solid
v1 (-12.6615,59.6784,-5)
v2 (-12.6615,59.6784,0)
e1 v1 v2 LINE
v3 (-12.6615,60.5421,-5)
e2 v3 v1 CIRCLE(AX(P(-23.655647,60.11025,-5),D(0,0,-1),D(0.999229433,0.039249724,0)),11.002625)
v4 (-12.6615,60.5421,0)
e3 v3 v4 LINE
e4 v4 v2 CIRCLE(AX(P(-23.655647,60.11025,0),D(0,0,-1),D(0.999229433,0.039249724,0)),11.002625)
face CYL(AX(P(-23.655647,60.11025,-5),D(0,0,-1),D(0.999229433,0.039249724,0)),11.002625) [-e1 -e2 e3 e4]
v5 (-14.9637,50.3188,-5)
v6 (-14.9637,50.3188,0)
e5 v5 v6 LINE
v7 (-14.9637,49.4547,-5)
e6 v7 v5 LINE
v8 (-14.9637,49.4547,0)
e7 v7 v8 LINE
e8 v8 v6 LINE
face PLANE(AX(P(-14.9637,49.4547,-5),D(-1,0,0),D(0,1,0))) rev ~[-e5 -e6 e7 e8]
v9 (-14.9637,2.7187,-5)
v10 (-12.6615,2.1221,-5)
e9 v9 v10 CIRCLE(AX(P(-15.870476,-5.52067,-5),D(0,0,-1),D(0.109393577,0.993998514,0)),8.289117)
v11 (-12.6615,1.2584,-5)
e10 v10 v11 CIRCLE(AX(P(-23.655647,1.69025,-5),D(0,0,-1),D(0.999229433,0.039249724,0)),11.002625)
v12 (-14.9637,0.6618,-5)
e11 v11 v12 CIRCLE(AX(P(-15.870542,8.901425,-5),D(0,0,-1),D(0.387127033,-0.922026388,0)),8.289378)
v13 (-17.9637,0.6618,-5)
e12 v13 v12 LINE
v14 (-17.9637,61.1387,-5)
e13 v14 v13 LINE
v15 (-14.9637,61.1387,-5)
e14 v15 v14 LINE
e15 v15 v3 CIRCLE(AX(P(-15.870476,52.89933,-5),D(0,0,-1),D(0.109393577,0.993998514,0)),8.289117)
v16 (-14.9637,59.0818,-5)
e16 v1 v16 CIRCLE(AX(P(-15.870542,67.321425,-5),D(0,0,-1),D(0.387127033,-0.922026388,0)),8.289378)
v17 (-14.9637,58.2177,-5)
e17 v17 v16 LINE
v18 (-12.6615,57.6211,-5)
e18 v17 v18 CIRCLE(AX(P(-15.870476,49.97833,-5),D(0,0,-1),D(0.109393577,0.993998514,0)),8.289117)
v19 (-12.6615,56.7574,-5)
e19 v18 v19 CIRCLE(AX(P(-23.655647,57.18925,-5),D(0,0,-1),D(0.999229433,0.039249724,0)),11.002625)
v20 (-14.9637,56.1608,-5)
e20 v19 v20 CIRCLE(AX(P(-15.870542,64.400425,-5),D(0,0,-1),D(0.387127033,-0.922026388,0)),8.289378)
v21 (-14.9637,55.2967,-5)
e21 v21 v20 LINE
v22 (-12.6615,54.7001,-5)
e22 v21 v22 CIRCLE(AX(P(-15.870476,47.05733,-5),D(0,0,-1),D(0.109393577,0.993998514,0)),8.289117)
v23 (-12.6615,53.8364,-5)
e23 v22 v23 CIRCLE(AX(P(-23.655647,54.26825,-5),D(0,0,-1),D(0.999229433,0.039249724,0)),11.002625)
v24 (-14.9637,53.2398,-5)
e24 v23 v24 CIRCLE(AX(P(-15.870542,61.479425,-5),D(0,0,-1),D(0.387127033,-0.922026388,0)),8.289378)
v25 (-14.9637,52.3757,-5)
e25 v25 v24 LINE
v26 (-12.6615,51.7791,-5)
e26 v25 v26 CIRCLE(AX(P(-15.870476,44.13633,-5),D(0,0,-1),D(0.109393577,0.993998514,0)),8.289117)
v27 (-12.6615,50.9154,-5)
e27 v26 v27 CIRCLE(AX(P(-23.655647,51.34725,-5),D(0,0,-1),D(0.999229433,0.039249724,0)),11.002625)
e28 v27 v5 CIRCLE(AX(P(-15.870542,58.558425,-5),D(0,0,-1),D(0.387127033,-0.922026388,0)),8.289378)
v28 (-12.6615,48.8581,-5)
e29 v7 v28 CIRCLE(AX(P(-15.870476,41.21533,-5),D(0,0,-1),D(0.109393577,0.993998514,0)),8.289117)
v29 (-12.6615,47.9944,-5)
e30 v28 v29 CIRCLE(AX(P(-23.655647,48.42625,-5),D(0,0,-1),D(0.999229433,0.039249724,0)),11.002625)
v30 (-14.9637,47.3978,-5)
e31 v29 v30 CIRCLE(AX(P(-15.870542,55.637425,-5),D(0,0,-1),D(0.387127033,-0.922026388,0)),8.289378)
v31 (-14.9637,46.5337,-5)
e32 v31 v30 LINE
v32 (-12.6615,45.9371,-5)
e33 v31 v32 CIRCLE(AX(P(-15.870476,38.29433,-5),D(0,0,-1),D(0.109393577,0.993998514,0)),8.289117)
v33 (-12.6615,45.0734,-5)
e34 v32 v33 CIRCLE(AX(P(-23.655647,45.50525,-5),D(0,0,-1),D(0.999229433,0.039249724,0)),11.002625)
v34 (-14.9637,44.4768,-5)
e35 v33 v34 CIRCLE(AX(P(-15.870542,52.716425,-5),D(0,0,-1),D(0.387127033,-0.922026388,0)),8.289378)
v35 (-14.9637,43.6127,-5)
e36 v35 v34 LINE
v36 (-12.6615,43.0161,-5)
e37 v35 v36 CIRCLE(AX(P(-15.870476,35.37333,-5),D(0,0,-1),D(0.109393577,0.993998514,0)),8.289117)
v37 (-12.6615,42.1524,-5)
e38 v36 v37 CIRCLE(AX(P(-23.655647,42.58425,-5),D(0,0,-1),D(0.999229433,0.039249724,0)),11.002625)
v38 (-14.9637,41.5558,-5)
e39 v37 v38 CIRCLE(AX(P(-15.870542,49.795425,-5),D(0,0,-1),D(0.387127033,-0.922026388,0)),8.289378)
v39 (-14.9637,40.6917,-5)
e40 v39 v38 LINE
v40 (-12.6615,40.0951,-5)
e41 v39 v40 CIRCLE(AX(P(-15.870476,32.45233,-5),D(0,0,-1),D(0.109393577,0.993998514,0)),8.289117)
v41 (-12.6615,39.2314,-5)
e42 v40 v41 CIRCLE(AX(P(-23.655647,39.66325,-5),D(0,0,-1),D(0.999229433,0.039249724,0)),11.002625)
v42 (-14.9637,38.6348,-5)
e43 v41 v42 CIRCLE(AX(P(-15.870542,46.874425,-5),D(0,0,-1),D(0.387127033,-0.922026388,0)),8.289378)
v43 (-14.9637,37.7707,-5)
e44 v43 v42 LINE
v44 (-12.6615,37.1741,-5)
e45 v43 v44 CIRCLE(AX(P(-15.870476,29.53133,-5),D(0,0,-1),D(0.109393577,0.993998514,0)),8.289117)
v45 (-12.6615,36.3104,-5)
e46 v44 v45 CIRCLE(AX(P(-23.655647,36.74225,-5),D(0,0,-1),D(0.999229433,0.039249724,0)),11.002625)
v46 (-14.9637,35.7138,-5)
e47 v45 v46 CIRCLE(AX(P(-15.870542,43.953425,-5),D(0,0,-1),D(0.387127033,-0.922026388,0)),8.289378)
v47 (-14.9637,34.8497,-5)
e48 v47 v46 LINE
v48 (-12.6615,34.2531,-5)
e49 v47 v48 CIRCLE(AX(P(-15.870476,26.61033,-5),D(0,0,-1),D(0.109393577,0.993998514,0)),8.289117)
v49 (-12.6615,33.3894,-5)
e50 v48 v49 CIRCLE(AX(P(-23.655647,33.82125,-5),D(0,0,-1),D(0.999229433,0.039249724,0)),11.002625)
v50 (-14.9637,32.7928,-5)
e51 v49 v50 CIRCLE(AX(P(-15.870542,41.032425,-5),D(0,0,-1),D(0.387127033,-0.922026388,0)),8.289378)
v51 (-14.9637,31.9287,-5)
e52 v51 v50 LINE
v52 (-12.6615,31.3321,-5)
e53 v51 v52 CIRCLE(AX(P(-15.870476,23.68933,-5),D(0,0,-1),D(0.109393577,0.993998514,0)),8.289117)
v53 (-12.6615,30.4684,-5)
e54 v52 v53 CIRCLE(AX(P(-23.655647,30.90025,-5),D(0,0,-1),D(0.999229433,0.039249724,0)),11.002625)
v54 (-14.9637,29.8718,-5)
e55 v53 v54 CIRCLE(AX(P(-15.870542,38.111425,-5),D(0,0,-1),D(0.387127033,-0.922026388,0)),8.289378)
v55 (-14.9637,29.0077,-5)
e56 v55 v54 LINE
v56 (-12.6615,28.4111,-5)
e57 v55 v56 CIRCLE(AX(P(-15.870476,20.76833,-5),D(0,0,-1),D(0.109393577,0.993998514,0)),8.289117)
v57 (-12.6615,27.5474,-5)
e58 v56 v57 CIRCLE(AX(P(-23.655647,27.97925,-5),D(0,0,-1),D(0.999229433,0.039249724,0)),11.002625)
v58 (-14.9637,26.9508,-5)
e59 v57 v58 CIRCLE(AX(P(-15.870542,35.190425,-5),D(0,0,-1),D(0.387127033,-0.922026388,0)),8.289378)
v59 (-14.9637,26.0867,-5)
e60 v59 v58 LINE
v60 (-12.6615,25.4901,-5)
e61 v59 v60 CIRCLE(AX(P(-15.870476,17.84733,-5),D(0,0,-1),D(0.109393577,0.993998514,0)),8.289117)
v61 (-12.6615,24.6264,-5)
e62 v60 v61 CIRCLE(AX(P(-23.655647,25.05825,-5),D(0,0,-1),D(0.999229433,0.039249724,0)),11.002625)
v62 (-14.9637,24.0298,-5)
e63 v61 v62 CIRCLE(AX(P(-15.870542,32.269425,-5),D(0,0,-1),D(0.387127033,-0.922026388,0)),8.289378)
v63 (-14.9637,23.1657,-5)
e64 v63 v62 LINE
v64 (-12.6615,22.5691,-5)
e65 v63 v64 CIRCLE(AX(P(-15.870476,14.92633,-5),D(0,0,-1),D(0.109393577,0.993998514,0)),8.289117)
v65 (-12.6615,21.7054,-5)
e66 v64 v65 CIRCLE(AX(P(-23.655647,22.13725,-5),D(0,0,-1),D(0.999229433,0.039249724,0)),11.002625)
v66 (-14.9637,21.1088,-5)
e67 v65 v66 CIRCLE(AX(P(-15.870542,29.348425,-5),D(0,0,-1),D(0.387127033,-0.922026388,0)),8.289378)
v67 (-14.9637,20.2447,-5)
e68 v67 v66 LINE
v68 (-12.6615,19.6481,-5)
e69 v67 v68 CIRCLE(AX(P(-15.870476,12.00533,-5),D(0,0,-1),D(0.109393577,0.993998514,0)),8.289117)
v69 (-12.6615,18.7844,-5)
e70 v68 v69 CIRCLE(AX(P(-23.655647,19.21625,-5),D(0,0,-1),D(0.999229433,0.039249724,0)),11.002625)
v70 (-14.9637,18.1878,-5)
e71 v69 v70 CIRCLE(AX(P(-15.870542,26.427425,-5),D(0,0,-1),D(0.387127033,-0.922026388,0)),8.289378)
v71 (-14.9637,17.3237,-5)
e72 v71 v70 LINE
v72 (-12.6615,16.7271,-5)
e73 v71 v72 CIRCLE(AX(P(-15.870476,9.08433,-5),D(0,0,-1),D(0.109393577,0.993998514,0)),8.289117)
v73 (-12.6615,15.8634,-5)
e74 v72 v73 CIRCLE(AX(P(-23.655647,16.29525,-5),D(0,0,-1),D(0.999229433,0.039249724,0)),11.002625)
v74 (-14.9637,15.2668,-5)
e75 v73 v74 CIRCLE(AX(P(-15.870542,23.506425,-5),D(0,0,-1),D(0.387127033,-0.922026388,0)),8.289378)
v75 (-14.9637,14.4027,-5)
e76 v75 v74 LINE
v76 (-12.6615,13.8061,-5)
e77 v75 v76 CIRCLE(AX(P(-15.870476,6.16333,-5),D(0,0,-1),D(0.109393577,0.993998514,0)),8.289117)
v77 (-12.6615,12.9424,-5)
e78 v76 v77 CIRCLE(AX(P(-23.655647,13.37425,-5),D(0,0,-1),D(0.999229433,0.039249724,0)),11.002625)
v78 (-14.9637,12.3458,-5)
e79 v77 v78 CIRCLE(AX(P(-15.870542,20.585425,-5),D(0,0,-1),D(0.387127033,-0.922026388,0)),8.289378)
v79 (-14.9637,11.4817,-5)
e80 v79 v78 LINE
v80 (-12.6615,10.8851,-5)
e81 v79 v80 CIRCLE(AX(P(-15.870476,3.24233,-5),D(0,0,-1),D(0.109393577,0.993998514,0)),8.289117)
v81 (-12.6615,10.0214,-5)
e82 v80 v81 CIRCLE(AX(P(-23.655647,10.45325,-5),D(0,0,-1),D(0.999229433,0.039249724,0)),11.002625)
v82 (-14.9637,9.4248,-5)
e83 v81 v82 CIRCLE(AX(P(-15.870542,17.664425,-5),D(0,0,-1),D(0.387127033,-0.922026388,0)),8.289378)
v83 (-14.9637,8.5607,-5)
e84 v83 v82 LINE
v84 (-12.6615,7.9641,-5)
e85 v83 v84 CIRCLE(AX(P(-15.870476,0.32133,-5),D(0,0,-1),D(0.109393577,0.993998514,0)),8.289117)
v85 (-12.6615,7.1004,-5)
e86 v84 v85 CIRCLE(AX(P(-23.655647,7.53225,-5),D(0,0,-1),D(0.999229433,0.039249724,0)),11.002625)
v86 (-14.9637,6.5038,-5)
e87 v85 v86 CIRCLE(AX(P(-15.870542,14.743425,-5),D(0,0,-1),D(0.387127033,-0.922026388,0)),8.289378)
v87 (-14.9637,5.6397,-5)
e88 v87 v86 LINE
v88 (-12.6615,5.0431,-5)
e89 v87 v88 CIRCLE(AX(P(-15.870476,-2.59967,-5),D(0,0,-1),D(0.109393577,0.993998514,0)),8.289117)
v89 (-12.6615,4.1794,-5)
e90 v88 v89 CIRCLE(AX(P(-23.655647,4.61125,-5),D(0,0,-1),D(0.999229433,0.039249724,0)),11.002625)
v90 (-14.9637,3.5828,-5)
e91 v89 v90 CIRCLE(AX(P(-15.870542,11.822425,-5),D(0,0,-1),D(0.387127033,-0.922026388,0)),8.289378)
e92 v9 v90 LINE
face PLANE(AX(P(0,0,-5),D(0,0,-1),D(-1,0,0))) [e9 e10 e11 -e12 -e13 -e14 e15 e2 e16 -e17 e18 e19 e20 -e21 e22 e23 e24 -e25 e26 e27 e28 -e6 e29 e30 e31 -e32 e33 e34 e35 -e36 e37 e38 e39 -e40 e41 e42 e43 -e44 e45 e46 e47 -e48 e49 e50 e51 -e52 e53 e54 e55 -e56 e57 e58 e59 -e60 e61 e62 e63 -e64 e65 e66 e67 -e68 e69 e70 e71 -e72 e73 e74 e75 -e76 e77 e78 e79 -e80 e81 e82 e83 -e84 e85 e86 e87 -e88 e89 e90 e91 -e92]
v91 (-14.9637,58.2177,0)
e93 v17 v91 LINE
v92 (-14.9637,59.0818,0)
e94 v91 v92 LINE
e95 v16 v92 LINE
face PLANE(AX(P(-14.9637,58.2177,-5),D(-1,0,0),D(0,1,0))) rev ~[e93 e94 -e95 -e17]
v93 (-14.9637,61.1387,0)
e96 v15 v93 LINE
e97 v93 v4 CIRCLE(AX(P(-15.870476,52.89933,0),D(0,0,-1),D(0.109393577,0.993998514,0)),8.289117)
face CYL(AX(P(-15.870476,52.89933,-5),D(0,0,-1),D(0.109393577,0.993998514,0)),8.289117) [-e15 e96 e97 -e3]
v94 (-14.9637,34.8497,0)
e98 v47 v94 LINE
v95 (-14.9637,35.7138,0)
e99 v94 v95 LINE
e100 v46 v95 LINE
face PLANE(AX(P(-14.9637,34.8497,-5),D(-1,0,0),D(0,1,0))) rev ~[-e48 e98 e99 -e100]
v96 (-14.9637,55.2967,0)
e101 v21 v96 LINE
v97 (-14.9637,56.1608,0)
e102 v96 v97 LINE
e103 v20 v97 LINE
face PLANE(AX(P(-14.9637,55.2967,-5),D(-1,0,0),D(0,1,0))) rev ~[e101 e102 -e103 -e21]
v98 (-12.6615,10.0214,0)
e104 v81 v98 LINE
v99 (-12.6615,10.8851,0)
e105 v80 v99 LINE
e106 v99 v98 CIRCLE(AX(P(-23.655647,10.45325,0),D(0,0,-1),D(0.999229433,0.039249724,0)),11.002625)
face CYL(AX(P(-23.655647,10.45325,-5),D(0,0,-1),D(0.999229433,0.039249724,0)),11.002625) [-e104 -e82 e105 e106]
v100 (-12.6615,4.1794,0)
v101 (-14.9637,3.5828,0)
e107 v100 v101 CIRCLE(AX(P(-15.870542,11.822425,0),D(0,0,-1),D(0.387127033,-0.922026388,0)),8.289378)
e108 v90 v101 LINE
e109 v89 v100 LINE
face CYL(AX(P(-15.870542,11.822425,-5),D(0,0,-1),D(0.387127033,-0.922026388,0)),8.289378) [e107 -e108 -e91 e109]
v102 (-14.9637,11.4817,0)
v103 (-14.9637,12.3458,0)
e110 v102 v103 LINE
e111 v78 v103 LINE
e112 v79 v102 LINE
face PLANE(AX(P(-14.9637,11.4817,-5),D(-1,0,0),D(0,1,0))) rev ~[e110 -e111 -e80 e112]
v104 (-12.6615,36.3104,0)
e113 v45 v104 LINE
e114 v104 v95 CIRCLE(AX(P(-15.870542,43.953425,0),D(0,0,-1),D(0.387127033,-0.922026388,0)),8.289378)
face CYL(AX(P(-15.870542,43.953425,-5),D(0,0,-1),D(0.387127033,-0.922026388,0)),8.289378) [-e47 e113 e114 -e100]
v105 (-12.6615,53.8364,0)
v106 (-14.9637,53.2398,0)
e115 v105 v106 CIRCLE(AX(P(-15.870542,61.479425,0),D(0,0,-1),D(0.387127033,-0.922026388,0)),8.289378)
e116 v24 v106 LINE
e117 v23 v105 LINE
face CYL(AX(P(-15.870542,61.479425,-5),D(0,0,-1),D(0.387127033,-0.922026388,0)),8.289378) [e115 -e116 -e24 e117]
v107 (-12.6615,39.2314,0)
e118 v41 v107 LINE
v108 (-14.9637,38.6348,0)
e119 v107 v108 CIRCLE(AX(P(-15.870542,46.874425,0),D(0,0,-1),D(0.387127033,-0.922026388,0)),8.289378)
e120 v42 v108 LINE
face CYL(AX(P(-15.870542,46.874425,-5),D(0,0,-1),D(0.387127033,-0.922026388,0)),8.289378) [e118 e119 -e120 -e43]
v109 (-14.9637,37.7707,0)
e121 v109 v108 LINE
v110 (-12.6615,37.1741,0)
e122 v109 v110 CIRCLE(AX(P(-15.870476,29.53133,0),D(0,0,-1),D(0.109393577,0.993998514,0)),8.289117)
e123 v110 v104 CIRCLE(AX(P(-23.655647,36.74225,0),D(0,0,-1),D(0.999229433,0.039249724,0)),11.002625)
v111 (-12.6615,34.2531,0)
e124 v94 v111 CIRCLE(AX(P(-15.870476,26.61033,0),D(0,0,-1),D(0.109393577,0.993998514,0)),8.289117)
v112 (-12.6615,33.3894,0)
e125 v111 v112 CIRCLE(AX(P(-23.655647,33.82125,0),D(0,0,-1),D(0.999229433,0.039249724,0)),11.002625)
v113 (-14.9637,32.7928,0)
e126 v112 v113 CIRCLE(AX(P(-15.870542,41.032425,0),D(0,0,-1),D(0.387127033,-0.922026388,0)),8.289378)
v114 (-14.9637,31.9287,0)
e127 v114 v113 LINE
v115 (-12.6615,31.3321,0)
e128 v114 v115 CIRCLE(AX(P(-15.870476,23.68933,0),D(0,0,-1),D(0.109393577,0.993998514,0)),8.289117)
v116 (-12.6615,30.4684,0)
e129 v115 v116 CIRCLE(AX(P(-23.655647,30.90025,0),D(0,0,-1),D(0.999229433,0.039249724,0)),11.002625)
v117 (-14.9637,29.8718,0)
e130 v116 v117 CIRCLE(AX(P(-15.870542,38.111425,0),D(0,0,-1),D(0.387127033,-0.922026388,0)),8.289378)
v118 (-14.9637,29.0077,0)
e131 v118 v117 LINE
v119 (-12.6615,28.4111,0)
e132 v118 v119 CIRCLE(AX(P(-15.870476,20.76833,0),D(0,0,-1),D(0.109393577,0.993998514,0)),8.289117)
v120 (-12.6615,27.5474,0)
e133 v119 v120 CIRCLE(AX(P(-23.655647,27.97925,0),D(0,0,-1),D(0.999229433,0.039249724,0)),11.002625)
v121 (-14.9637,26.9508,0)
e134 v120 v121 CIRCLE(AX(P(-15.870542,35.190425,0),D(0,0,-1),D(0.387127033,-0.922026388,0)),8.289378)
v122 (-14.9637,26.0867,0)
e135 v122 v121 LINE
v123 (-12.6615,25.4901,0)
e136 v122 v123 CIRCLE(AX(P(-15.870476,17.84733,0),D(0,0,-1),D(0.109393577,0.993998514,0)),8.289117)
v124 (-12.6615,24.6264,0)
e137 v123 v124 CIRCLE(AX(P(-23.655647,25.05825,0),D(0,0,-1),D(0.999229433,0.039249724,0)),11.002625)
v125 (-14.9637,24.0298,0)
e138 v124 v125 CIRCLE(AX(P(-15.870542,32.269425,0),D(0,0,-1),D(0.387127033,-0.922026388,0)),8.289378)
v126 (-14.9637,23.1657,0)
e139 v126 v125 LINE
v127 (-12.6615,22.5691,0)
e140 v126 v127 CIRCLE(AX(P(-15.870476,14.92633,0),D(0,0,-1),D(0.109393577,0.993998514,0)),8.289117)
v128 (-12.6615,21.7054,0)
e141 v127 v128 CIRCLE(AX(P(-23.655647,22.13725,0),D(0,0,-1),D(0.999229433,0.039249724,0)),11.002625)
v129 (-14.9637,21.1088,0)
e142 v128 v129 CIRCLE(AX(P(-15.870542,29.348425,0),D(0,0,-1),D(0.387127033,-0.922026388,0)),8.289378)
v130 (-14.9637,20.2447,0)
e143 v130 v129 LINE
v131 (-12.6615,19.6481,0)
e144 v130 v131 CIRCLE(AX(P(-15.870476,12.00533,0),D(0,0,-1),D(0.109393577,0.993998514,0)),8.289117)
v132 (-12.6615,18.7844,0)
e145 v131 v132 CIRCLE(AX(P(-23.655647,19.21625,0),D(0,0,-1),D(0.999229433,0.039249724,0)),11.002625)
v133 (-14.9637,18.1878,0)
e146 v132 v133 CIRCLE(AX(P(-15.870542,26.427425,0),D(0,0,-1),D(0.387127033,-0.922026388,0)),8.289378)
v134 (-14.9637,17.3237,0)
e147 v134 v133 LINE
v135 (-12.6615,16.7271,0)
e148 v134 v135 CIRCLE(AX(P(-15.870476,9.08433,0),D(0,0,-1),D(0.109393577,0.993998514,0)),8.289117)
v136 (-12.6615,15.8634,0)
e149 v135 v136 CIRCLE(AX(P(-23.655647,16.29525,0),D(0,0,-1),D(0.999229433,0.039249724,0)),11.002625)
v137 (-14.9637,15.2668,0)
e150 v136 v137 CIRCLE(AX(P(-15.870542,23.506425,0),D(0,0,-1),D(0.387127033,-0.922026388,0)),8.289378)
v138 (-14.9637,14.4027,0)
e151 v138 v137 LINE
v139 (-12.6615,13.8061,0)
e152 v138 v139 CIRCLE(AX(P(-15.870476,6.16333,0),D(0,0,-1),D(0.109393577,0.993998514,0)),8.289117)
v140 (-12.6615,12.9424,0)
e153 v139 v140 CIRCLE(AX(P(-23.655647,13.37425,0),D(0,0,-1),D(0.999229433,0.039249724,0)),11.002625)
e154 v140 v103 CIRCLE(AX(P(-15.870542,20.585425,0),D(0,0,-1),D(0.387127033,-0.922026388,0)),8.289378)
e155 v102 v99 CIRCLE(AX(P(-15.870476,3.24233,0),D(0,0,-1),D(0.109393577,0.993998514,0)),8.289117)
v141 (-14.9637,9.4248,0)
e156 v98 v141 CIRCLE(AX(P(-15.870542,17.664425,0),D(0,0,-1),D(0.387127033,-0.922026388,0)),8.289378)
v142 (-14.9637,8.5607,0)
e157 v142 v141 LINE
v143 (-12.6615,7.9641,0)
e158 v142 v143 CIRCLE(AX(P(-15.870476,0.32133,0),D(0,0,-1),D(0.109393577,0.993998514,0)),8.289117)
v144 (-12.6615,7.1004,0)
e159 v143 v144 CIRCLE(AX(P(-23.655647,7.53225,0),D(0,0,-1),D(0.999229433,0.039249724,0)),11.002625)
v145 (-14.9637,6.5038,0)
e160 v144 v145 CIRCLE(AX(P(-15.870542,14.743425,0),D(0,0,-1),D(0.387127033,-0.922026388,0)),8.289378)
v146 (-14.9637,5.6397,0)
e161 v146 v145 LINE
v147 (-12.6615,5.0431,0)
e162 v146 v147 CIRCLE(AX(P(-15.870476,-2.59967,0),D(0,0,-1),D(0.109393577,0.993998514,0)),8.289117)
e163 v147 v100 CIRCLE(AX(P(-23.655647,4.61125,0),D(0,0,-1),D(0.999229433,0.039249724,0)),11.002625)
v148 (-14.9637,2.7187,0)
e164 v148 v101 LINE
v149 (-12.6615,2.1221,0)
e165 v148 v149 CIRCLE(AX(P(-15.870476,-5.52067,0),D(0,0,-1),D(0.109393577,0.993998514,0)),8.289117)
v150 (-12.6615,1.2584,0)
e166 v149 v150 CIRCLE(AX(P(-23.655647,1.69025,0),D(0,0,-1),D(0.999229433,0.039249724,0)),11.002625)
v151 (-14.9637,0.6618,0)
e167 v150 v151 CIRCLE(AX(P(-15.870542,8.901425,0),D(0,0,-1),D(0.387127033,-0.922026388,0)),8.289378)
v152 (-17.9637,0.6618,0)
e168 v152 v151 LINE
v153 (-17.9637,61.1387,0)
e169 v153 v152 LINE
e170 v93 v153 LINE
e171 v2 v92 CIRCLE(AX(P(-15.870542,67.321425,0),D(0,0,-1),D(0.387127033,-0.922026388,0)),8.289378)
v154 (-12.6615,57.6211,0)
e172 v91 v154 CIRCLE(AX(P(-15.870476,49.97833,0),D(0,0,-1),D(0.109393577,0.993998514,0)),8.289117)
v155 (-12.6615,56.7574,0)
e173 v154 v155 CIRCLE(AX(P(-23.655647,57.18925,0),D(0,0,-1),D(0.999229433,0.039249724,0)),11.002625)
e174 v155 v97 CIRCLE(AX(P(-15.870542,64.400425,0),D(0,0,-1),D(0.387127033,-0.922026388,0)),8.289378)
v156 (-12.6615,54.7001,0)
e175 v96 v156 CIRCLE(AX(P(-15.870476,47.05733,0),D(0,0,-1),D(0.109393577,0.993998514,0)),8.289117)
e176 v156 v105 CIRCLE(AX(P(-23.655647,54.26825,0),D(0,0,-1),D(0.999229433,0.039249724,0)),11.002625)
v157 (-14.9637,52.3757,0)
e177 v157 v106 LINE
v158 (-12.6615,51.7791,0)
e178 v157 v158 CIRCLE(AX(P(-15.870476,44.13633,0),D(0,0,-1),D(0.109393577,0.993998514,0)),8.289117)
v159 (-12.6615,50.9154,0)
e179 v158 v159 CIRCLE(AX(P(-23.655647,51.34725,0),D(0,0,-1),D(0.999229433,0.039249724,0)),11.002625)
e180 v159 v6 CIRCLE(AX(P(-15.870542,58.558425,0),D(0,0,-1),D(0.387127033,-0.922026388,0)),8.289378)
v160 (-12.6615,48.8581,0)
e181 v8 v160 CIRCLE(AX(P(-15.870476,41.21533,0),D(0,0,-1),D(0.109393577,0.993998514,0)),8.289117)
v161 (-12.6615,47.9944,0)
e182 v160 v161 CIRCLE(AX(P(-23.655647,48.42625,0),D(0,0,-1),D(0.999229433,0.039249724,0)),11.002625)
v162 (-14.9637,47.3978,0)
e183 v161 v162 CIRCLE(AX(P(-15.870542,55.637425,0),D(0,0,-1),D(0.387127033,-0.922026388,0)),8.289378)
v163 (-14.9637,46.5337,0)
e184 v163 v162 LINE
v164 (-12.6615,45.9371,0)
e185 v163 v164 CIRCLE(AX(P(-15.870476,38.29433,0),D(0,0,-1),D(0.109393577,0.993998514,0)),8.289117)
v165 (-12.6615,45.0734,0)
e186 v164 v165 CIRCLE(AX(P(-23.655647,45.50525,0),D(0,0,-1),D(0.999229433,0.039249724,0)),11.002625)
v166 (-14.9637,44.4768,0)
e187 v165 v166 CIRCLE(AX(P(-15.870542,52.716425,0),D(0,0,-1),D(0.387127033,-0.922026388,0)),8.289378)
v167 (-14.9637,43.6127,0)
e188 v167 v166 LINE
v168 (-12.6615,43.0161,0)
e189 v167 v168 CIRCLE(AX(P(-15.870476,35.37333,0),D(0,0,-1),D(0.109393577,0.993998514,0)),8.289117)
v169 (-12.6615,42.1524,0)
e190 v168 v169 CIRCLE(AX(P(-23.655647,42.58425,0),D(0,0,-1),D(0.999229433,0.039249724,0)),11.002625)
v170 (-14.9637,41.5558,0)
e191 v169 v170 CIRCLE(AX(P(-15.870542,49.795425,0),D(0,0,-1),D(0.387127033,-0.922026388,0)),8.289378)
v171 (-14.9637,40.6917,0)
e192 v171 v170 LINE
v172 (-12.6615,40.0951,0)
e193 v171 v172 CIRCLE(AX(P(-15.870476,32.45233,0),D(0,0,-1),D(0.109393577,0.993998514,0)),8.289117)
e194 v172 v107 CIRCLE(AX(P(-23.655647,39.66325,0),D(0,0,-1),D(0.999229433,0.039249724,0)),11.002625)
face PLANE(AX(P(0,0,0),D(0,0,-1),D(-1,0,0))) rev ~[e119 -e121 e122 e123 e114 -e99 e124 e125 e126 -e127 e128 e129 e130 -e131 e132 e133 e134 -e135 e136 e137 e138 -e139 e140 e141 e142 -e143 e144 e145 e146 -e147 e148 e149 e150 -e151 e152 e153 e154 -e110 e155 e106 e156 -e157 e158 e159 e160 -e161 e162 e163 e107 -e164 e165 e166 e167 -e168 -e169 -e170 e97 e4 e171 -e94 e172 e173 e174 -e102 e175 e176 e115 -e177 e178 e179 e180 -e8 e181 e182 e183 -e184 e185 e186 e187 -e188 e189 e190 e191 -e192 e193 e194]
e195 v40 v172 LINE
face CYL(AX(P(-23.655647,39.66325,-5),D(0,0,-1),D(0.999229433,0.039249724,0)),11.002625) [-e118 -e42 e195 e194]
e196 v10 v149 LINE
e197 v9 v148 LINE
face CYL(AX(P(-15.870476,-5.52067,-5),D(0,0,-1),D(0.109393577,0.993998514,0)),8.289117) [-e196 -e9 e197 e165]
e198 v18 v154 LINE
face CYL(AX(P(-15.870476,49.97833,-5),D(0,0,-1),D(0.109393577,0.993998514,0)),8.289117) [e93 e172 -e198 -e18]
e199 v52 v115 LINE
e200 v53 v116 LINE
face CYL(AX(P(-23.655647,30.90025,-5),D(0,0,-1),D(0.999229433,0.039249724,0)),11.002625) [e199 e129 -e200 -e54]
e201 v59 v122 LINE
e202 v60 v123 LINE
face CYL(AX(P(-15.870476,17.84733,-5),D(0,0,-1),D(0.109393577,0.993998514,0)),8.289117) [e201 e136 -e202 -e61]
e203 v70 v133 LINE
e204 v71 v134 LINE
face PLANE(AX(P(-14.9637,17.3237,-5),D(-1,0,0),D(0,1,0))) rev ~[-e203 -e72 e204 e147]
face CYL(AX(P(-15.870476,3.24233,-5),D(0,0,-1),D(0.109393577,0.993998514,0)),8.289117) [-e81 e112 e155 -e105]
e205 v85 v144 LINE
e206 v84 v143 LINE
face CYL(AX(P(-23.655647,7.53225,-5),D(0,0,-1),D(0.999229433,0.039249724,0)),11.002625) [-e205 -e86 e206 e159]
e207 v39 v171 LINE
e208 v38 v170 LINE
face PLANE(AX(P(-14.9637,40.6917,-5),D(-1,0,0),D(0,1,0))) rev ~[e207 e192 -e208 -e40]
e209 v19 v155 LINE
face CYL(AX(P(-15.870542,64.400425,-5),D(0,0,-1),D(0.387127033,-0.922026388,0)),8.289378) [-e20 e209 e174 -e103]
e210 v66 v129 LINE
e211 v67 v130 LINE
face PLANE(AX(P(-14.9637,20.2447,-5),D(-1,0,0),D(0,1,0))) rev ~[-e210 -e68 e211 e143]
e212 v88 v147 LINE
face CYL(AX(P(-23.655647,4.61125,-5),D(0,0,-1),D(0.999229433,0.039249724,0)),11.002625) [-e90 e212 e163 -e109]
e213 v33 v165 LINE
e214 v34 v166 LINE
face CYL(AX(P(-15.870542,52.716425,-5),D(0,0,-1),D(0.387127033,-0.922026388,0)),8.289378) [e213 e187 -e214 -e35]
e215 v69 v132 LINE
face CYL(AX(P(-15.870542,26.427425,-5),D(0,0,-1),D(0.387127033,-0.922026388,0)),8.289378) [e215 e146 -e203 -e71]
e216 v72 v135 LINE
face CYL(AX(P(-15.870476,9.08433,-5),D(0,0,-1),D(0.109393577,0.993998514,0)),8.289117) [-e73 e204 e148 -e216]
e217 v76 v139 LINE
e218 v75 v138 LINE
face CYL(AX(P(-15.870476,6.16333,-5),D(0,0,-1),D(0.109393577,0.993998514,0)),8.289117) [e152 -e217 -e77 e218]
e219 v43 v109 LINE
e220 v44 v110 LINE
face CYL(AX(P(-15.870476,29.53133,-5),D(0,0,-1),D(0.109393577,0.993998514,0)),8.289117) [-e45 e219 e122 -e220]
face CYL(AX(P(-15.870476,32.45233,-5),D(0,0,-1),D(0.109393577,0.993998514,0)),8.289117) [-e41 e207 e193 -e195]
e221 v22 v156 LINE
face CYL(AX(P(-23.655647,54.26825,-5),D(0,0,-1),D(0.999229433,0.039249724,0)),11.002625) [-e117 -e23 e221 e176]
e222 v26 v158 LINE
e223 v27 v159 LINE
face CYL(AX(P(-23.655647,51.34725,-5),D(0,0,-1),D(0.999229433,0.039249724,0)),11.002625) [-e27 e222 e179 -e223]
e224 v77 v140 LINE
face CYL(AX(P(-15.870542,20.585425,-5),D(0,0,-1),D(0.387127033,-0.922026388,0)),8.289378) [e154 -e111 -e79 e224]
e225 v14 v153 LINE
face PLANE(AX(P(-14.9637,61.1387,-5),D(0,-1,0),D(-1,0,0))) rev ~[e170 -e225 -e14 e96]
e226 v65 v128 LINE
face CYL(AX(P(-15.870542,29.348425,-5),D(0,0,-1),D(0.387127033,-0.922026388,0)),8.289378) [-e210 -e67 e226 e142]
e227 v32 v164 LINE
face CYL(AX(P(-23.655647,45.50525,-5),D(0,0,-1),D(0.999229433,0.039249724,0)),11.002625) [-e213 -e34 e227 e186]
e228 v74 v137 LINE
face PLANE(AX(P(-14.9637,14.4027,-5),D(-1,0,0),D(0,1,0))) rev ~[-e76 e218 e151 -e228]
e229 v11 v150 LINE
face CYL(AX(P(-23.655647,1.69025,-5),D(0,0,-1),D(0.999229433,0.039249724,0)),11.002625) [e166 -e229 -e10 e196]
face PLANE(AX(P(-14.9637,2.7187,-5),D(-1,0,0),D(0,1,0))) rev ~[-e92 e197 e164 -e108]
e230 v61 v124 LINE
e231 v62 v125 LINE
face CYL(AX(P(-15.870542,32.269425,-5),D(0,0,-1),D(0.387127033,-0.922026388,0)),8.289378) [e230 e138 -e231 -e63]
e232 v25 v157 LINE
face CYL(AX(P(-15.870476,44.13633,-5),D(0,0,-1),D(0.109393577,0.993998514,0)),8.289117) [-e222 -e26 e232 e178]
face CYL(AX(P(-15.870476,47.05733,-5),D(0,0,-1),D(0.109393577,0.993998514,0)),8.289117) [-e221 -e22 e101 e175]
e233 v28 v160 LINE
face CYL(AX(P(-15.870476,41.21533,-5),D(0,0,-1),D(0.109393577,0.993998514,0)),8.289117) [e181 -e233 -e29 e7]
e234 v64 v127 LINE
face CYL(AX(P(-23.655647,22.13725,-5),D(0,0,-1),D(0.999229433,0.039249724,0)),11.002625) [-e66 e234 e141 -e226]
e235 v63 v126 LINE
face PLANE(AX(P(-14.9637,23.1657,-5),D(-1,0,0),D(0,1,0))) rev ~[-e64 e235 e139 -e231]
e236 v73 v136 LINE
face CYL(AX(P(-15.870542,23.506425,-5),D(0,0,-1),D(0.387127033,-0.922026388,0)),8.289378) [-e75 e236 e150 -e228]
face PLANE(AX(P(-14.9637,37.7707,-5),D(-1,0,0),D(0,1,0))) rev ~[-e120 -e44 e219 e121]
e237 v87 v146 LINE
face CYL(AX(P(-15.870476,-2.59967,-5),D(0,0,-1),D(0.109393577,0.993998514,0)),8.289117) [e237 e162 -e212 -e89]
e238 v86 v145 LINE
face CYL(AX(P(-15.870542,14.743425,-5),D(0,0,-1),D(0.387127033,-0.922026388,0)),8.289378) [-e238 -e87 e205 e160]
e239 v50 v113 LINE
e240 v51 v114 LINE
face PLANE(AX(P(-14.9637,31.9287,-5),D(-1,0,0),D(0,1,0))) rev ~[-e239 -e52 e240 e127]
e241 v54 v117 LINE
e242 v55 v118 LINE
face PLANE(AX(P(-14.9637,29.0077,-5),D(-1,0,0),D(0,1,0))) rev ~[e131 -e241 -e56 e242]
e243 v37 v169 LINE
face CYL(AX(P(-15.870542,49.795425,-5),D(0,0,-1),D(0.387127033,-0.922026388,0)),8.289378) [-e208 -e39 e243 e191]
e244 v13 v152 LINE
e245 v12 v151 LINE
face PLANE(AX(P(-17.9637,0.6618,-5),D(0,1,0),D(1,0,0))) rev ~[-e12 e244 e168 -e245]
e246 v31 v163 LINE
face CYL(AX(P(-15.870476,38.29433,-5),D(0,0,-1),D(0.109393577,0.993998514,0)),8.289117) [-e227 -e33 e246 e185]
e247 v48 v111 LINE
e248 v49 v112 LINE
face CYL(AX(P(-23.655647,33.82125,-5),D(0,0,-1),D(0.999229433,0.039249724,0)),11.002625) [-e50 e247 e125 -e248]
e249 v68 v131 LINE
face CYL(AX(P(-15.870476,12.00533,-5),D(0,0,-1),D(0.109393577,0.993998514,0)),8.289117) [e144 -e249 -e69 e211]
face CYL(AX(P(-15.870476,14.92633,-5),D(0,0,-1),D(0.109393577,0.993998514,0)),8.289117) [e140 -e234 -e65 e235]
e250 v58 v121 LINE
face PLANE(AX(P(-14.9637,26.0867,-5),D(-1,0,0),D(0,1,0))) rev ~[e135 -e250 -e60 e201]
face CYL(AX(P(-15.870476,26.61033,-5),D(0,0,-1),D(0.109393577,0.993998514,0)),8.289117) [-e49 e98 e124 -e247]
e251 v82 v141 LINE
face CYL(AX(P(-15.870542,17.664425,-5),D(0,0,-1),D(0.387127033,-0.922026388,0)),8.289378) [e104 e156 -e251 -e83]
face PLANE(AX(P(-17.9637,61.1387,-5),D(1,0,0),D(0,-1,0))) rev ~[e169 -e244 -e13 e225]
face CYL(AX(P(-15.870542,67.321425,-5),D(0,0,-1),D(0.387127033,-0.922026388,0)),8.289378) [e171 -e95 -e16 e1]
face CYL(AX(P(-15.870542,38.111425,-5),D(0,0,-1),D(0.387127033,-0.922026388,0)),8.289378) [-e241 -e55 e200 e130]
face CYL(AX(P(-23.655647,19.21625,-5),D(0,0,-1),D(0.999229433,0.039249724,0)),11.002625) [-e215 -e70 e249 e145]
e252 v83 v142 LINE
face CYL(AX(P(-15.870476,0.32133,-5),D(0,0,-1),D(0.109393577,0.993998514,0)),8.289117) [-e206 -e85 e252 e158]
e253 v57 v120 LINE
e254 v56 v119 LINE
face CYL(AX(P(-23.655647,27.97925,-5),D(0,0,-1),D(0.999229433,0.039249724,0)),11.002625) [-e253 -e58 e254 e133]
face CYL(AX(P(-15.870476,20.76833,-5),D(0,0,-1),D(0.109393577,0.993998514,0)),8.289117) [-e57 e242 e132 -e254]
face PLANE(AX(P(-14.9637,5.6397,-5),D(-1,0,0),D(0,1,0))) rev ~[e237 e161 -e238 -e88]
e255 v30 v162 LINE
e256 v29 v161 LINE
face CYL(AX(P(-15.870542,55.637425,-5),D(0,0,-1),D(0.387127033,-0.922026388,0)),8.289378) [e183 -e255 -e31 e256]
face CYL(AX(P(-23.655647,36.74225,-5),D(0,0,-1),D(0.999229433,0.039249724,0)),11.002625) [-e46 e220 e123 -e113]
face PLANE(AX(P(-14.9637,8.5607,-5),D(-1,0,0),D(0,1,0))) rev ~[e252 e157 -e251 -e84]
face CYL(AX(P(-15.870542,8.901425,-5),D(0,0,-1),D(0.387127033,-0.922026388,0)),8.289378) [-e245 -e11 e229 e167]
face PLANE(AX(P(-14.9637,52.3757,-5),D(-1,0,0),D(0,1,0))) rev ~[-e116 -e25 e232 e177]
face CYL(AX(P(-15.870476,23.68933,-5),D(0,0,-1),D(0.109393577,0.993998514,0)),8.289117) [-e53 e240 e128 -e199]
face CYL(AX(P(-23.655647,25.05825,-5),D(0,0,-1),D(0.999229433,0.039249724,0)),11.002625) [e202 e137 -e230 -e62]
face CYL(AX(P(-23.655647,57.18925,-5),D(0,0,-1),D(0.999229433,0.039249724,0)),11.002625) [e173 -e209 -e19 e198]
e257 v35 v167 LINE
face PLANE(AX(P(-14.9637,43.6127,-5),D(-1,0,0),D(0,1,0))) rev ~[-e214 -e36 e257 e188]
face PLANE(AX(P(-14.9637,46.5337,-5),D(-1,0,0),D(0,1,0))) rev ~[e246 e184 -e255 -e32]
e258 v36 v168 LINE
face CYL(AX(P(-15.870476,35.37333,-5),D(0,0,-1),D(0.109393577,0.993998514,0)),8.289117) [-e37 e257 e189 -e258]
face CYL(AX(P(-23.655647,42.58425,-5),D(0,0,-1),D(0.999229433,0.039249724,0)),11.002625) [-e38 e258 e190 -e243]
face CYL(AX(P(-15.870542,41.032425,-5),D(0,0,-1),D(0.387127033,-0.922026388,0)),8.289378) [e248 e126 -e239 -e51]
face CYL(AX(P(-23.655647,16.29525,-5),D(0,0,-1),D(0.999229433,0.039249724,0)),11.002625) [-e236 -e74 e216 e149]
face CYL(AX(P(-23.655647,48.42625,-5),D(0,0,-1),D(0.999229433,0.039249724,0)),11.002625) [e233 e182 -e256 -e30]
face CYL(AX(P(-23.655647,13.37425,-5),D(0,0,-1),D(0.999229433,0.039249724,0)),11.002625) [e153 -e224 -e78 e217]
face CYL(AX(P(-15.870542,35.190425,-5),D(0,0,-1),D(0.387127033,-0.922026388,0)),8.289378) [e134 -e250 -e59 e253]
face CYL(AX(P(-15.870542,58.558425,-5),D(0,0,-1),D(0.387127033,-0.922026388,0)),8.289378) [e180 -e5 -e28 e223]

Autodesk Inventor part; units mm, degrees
ref_plane "YZ Plane" through (0, 0, 0) normal (1, 0, 0) x (0, 1, 0)
ref_plane "XZ Plane" through (0, 0, 0) normal (0, 1, 0) x (-1, 0, 0)
ref_plane "XY Plane" through (0, 0, 0) normal (0, 0, 1) x (1, 0, 0)
ref_plane "Arbeitsebene1" through (0, 0, -5) normal (0, 0, -1) x (-1, 0, 0)
sketch "Skizze1" plane through (0, 0, -5) normal (0, 0, -1) x (-1, 0, 0)
  arc A0 (8.6893, -1.0285) -> (10.9915, -0.4319) centre (7.7825, 7.211) ccw
  arc A1 (10.9915, -0.4319) -> (10.9915, 0.4319) centre (0, 0) ccw
  arc A2 (10.9915, 0.4319) -> (8.6893, 1.0285) centre (7.7825, -7.211) ccw
  line L0 (8.6893, -1.0285) -> (8.6893, 1.0285) construction
  arc A3 (12.6615, 1.2584) -> (14.9637, 0.6618) centre (15.8705, 8.9013) ccw
  arc A4 (12.6615, 2.1221) -> (12.6615, 1.2584) centre (23.6531, 1.6903) ccw
  arc A5 (14.9637, 2.7187) -> (12.6615, 2.1221) centre (15.8705, -5.5208) ccw
  arc A6 (8.6893, 1.0285) -> (8.5819, 1.707) centre (0, 0) ccw construction
  arc A7 (8.6893, 1.0285) -> (8.5819, 1.707) centre (0, 0) ccw construction
  arc A8 (8.6893, 1.0285) -> (8.5819, 1.707) centre (0, 0) ccw construction
  arc A9 (8.6893, 1.0285) -> (8.5819, 1.707) centre (0, 0) ccw construction
  arc A10 (8.6893, 1.0285) -> (8.5819, 1.707) centre (0, 0) ccw construction
  arc A11 (12.6615, 4.1794) -> (14.9637, 3.5828) centre (15.8705, 11.8223) ccw
  arc A12 (12.6615, 5.0431) -> (12.6615, 4.1794) centre (23.6531, 4.6113) ccw
  arc A13 (14.9637, 5.6397) -> (12.6615, 5.0431) centre (15.8705, -2.5998) ccw
  arc A14 (12.6615, 7.1004) -> (14.9637, 6.5038) centre (15.8705, 14.7433) ccw
  arc A15 (12.6615, 7.9641) -> (12.6615, 7.1004) centre (23.6531, 7.5323) ccw
  arc A16 (14.9637, 8.5607) -> (12.6615, 7.9641) centre (15.8705, 0.3212) ccw
  arc A17 (12.6615, 10.0214) -> (14.9637, 9.4248) centre (15.8705, 17.6643) ccw
  arc A18 (12.6615, 10.8851) -> (12.6615, 10.0214) centre (23.6531, 10.4533) ccw
  arc A19 (14.9637, 11.4817) -> (12.6615, 10.8851) centre (15.8705, 3.2422) ccw
  arc A20 (12.6615, 12.9424) -> (14.9637, 12.3458) centre (15.8705, 20.5853) ccw
  arc A21 (12.6615, 13.8061) -> (12.6615, 12.9424) centre (23.6531, 13.3743) ccw
  arc A22 (14.9637, 14.4027) -> (12.6615, 13.8061) centre (15.8705, 6.1632) ccw
  arc A23 (12.6615, 15.8634) -> (14.9637, 15.2668) centre (15.8705, 23.5063) ccw
  arc A24 (12.6615, 16.7271) -> (12.6615, 15.8634) centre (23.6531, 16.2953) ccw
  arc A25 (14.9637, 17.3237) -> (12.6615, 16.7271) centre (15.8705, 9.0842) ccw
  arc A26 (12.6615, 18.7844) -> (14.9637, 18.1878) centre (15.8705, 26.4273) ccw
  arc A27 (12.6615, 19.6481) -> (12.6615, 18.7844) centre (23.6531, 19.2163) ccw
  arc A28 (14.9637, 20.2447) -> (12.6615, 19.6481) centre (15.8705, 12.0052) ccw
  arc A29 (12.6615, 21.7054) -> (14.9637, 21.1088) centre (15.8705, 29.3483) ccw
  arc A30 (12.6615, 22.5691) -> (12.6615, 21.7054) centre (23.6531, 22.1373) ccw
  arc A31 (14.9637, 23.1657) -> (12.6615, 22.5691) centre (15.8705, 14.9262) ccw
  arc A32 (12.6615, 24.6264) -> (14.9637, 24.0298) centre (15.8705, 32.2693) ccw
  arc A33 (12.6615, 25.4901) -> (12.6615, 24.6264) centre (23.6531, 25.0583) ccw
  arc A34 (14.9637, 26.0867) -> (12.6615, 25.4901) centre (15.8705, 17.8472) ccw
  arc A35 (12.6615, 27.5474) -> (14.9637, 26.9508) centre (15.8705, 35.1903) ccw
  arc A36 (12.6615, 28.4111) -> (12.6615, 27.5474) centre (23.6531, 27.9793) ccw
  arc A37 (14.9637, 29.0077) -> (12.6615, 28.4111) centre (15.8705, 20.7682) ccw
  arc A38 (12.6615, 30.4684) -> (14.9637, 29.8718) centre (15.8705, 38.1113) ccw
  arc A39 (12.6615, 31.3321) -> (12.6615, 30.4684) centre (23.6531, 30.9003) ccw
  arc A40 (14.9637, 31.9287) -> (12.6615, 31.3321) centre (15.8705, 23.6892) ccw
  arc A41 (12.6615, 33.3894) -> (14.9637, 32.7928) centre (15.8705, 41.0323) ccw
  arc A42 (12.6615, 34.2531) -> (12.6615, 33.3894) centre (23.6531, 33.8213) ccw
  arc A43 (14.9637, 34.8497) -> (12.6615, 34.2531) centre (15.8705, 26.6102) ccw
  arc A44 (12.6615, 36.3104) -> (14.9637, 35.7138) centre (15.8705, 43.9533) ccw
  arc A45 (12.6615, 37.1741) -> (12.6615, 36.3104) centre (23.6531, 36.7423) ccw
  arc A46 (14.9637, 37.7707) -> (12.6615, 37.1741) centre (15.8705, 29.5312) ccw
  arc A47 (12.6615, 39.2314) -> (14.9637, 38.6348) centre (15.8705, 46.8743) ccw
  arc A48 (12.6615, 40.0951) -> (12.6615, 39.2314) centre (23.6531, 39.6633) ccw
  arc A49 (14.9637, 40.6917) -> (12.6615, 40.0951) centre (15.8705, 32.4522) ccw
  arc A50 (12.6615, 42.1524) -> (14.9637, 41.5558) centre (15.8705, 49.7953) ccw
  arc A51 (12.6615, 43.0161) -> (12.6615, 42.1524) centre (23.6531, 42.5843) ccw
  arc A52 (14.9637, 43.6127) -> (12.6615, 43.0161) centre (15.8705, 35.3732) ccw
  arc A53 (12.6615, 45.0734) -> (14.9637, 44.4768) centre (15.8705, 52.7163) ccw
  arc A54 (12.6615, 45.9371) -> (12.6615, 45.0734) centre (23.6531, 45.5053) ccw
  arc A55 (14.9637, 46.5337) -> (12.6615, 45.9371) centre (15.8705, 38.2942) ccw
  arc A56 (12.6615, 47.9944) -> (14.9637, 47.3978) centre (15.8705, 55.6373) ccw
  arc A57 (12.6615, 48.8581) -> (12.6615, 47.9944) centre (23.6531, 48.4263) ccw
  arc A58 (14.9637, 49.4547) -> (12.6615, 48.8581) centre (15.8705, 41.2152) ccw
  arc A59 (12.6615, 50.9154) -> (14.9637, 50.3188) centre (15.8705, 58.5583) ccw
  arc A60 (12.6615, 51.7791) -> (12.6615, 50.9154) centre (23.6531, 51.3473) ccw
  arc A61 (14.9637, 52.3757) -> (12.6615, 51.7791) centre (15.8705, 44.1362) ccw
  arc A62 (12.6615, 53.8364) -> (14.9637, 53.2398) centre (15.8705, 61.4793) ccw
  arc A63 (12.6615, 54.7001) -> (12.6615, 53.8364) centre (23.6531, 54.2683) ccw
  arc A64 (14.9637, 55.2967) -> (12.6615, 54.7001) centre (15.8705, 47.0572) ccw
  arc A65 (12.6615, 56.7574) -> (14.9637, 56.1608) centre (15.8705, 64.4003) ccw
  arc A66 (12.6615, 57.6211) -> (12.6615, 56.7574) centre (23.6531, 57.1893) ccw
  arc A67 (14.9637, 58.2177) -> (12.6615, 57.6211) centre (15.8705, 49.9782) ccw
  arc A68 (12.6615, 59.6784) -> (14.9637, 59.0818) centre (15.8705, 67.3213) ccw
  arc A69 (12.6615, 60.5421) -> (12.6615, 59.6784) centre (23.6531, 60.1103) ccw
  arc A70 (14.9637, 61.1387) -> (12.6615, 60.5421) centre (15.8705, 52.8992) ccw
  line L1 (14.9637, 61.1387) -> (17.9637, 61.1387)
  line L2 (17.9637, 61.1387) -> (17.9637, 0.6618)
  line L3 (17.9637, 0.6618) -> (14.9637, 0.6618)
  line L4 (14.9637, 2.7187) -> (14.9637, 3.5828)
  line L5 (14.9637, 5.6397) -> (14.9637, 6.5038)
  line L6 (14.9637, 8.5607) -> (14.9637, 9.4248)
  line L7 (14.9637, 11.4817) -> (14.9637, 12.3458)
  line L8 (14.9637, 14.4027) -> (14.9637, 15.2668)
  line L9 (14.9637, 17.3237) -> (14.9637, 18.1878)
  line L10 (14.9637, 20.2447) -> (14.9637, 21.1088)
  line L11 (14.9637, 23.1657) -> (14.9637, 24.0298)
  line L12 (14.9637, 26.0867) -> (14.9637, 26.9508)
  line L13 (14.9637, 29.0077) -> (14.9637, 29.8718)
  line L14 (14.9637, 31.9287) -> (14.9637, 32.7928)
  line L15 (14.9637, 34.8497) -> (14.9637, 35.7138)
  line L16 (14.9637, 37.7707) -> (14.9637, 38.6348)
  line L17 (14.9637, 40.6917) -> (14.9637, 41.5558)
  line L18 (14.9637, 43.6127) -> (14.9637, 44.4768)
  line L19 (14.9637, 46.5337) -> (14.9637, 47.3978)
  line L20 (14.9637, 49.4547) -> (14.9637, 50.3188)
  line L21 (14.9637, 52.3757) -> (14.9637, 53.2398)
  line L22 (14.9637, 55.2967) -> (14.9637, 56.1608)
  line L23 (14.9637, 58.2177) -> (14.9637, 59.0818)
  point P0 (14.9637, 32.3608)
extrude "Extrusion1" add sketch "Skizze1" against normal blind 5
properties part number "Zahnstange"
